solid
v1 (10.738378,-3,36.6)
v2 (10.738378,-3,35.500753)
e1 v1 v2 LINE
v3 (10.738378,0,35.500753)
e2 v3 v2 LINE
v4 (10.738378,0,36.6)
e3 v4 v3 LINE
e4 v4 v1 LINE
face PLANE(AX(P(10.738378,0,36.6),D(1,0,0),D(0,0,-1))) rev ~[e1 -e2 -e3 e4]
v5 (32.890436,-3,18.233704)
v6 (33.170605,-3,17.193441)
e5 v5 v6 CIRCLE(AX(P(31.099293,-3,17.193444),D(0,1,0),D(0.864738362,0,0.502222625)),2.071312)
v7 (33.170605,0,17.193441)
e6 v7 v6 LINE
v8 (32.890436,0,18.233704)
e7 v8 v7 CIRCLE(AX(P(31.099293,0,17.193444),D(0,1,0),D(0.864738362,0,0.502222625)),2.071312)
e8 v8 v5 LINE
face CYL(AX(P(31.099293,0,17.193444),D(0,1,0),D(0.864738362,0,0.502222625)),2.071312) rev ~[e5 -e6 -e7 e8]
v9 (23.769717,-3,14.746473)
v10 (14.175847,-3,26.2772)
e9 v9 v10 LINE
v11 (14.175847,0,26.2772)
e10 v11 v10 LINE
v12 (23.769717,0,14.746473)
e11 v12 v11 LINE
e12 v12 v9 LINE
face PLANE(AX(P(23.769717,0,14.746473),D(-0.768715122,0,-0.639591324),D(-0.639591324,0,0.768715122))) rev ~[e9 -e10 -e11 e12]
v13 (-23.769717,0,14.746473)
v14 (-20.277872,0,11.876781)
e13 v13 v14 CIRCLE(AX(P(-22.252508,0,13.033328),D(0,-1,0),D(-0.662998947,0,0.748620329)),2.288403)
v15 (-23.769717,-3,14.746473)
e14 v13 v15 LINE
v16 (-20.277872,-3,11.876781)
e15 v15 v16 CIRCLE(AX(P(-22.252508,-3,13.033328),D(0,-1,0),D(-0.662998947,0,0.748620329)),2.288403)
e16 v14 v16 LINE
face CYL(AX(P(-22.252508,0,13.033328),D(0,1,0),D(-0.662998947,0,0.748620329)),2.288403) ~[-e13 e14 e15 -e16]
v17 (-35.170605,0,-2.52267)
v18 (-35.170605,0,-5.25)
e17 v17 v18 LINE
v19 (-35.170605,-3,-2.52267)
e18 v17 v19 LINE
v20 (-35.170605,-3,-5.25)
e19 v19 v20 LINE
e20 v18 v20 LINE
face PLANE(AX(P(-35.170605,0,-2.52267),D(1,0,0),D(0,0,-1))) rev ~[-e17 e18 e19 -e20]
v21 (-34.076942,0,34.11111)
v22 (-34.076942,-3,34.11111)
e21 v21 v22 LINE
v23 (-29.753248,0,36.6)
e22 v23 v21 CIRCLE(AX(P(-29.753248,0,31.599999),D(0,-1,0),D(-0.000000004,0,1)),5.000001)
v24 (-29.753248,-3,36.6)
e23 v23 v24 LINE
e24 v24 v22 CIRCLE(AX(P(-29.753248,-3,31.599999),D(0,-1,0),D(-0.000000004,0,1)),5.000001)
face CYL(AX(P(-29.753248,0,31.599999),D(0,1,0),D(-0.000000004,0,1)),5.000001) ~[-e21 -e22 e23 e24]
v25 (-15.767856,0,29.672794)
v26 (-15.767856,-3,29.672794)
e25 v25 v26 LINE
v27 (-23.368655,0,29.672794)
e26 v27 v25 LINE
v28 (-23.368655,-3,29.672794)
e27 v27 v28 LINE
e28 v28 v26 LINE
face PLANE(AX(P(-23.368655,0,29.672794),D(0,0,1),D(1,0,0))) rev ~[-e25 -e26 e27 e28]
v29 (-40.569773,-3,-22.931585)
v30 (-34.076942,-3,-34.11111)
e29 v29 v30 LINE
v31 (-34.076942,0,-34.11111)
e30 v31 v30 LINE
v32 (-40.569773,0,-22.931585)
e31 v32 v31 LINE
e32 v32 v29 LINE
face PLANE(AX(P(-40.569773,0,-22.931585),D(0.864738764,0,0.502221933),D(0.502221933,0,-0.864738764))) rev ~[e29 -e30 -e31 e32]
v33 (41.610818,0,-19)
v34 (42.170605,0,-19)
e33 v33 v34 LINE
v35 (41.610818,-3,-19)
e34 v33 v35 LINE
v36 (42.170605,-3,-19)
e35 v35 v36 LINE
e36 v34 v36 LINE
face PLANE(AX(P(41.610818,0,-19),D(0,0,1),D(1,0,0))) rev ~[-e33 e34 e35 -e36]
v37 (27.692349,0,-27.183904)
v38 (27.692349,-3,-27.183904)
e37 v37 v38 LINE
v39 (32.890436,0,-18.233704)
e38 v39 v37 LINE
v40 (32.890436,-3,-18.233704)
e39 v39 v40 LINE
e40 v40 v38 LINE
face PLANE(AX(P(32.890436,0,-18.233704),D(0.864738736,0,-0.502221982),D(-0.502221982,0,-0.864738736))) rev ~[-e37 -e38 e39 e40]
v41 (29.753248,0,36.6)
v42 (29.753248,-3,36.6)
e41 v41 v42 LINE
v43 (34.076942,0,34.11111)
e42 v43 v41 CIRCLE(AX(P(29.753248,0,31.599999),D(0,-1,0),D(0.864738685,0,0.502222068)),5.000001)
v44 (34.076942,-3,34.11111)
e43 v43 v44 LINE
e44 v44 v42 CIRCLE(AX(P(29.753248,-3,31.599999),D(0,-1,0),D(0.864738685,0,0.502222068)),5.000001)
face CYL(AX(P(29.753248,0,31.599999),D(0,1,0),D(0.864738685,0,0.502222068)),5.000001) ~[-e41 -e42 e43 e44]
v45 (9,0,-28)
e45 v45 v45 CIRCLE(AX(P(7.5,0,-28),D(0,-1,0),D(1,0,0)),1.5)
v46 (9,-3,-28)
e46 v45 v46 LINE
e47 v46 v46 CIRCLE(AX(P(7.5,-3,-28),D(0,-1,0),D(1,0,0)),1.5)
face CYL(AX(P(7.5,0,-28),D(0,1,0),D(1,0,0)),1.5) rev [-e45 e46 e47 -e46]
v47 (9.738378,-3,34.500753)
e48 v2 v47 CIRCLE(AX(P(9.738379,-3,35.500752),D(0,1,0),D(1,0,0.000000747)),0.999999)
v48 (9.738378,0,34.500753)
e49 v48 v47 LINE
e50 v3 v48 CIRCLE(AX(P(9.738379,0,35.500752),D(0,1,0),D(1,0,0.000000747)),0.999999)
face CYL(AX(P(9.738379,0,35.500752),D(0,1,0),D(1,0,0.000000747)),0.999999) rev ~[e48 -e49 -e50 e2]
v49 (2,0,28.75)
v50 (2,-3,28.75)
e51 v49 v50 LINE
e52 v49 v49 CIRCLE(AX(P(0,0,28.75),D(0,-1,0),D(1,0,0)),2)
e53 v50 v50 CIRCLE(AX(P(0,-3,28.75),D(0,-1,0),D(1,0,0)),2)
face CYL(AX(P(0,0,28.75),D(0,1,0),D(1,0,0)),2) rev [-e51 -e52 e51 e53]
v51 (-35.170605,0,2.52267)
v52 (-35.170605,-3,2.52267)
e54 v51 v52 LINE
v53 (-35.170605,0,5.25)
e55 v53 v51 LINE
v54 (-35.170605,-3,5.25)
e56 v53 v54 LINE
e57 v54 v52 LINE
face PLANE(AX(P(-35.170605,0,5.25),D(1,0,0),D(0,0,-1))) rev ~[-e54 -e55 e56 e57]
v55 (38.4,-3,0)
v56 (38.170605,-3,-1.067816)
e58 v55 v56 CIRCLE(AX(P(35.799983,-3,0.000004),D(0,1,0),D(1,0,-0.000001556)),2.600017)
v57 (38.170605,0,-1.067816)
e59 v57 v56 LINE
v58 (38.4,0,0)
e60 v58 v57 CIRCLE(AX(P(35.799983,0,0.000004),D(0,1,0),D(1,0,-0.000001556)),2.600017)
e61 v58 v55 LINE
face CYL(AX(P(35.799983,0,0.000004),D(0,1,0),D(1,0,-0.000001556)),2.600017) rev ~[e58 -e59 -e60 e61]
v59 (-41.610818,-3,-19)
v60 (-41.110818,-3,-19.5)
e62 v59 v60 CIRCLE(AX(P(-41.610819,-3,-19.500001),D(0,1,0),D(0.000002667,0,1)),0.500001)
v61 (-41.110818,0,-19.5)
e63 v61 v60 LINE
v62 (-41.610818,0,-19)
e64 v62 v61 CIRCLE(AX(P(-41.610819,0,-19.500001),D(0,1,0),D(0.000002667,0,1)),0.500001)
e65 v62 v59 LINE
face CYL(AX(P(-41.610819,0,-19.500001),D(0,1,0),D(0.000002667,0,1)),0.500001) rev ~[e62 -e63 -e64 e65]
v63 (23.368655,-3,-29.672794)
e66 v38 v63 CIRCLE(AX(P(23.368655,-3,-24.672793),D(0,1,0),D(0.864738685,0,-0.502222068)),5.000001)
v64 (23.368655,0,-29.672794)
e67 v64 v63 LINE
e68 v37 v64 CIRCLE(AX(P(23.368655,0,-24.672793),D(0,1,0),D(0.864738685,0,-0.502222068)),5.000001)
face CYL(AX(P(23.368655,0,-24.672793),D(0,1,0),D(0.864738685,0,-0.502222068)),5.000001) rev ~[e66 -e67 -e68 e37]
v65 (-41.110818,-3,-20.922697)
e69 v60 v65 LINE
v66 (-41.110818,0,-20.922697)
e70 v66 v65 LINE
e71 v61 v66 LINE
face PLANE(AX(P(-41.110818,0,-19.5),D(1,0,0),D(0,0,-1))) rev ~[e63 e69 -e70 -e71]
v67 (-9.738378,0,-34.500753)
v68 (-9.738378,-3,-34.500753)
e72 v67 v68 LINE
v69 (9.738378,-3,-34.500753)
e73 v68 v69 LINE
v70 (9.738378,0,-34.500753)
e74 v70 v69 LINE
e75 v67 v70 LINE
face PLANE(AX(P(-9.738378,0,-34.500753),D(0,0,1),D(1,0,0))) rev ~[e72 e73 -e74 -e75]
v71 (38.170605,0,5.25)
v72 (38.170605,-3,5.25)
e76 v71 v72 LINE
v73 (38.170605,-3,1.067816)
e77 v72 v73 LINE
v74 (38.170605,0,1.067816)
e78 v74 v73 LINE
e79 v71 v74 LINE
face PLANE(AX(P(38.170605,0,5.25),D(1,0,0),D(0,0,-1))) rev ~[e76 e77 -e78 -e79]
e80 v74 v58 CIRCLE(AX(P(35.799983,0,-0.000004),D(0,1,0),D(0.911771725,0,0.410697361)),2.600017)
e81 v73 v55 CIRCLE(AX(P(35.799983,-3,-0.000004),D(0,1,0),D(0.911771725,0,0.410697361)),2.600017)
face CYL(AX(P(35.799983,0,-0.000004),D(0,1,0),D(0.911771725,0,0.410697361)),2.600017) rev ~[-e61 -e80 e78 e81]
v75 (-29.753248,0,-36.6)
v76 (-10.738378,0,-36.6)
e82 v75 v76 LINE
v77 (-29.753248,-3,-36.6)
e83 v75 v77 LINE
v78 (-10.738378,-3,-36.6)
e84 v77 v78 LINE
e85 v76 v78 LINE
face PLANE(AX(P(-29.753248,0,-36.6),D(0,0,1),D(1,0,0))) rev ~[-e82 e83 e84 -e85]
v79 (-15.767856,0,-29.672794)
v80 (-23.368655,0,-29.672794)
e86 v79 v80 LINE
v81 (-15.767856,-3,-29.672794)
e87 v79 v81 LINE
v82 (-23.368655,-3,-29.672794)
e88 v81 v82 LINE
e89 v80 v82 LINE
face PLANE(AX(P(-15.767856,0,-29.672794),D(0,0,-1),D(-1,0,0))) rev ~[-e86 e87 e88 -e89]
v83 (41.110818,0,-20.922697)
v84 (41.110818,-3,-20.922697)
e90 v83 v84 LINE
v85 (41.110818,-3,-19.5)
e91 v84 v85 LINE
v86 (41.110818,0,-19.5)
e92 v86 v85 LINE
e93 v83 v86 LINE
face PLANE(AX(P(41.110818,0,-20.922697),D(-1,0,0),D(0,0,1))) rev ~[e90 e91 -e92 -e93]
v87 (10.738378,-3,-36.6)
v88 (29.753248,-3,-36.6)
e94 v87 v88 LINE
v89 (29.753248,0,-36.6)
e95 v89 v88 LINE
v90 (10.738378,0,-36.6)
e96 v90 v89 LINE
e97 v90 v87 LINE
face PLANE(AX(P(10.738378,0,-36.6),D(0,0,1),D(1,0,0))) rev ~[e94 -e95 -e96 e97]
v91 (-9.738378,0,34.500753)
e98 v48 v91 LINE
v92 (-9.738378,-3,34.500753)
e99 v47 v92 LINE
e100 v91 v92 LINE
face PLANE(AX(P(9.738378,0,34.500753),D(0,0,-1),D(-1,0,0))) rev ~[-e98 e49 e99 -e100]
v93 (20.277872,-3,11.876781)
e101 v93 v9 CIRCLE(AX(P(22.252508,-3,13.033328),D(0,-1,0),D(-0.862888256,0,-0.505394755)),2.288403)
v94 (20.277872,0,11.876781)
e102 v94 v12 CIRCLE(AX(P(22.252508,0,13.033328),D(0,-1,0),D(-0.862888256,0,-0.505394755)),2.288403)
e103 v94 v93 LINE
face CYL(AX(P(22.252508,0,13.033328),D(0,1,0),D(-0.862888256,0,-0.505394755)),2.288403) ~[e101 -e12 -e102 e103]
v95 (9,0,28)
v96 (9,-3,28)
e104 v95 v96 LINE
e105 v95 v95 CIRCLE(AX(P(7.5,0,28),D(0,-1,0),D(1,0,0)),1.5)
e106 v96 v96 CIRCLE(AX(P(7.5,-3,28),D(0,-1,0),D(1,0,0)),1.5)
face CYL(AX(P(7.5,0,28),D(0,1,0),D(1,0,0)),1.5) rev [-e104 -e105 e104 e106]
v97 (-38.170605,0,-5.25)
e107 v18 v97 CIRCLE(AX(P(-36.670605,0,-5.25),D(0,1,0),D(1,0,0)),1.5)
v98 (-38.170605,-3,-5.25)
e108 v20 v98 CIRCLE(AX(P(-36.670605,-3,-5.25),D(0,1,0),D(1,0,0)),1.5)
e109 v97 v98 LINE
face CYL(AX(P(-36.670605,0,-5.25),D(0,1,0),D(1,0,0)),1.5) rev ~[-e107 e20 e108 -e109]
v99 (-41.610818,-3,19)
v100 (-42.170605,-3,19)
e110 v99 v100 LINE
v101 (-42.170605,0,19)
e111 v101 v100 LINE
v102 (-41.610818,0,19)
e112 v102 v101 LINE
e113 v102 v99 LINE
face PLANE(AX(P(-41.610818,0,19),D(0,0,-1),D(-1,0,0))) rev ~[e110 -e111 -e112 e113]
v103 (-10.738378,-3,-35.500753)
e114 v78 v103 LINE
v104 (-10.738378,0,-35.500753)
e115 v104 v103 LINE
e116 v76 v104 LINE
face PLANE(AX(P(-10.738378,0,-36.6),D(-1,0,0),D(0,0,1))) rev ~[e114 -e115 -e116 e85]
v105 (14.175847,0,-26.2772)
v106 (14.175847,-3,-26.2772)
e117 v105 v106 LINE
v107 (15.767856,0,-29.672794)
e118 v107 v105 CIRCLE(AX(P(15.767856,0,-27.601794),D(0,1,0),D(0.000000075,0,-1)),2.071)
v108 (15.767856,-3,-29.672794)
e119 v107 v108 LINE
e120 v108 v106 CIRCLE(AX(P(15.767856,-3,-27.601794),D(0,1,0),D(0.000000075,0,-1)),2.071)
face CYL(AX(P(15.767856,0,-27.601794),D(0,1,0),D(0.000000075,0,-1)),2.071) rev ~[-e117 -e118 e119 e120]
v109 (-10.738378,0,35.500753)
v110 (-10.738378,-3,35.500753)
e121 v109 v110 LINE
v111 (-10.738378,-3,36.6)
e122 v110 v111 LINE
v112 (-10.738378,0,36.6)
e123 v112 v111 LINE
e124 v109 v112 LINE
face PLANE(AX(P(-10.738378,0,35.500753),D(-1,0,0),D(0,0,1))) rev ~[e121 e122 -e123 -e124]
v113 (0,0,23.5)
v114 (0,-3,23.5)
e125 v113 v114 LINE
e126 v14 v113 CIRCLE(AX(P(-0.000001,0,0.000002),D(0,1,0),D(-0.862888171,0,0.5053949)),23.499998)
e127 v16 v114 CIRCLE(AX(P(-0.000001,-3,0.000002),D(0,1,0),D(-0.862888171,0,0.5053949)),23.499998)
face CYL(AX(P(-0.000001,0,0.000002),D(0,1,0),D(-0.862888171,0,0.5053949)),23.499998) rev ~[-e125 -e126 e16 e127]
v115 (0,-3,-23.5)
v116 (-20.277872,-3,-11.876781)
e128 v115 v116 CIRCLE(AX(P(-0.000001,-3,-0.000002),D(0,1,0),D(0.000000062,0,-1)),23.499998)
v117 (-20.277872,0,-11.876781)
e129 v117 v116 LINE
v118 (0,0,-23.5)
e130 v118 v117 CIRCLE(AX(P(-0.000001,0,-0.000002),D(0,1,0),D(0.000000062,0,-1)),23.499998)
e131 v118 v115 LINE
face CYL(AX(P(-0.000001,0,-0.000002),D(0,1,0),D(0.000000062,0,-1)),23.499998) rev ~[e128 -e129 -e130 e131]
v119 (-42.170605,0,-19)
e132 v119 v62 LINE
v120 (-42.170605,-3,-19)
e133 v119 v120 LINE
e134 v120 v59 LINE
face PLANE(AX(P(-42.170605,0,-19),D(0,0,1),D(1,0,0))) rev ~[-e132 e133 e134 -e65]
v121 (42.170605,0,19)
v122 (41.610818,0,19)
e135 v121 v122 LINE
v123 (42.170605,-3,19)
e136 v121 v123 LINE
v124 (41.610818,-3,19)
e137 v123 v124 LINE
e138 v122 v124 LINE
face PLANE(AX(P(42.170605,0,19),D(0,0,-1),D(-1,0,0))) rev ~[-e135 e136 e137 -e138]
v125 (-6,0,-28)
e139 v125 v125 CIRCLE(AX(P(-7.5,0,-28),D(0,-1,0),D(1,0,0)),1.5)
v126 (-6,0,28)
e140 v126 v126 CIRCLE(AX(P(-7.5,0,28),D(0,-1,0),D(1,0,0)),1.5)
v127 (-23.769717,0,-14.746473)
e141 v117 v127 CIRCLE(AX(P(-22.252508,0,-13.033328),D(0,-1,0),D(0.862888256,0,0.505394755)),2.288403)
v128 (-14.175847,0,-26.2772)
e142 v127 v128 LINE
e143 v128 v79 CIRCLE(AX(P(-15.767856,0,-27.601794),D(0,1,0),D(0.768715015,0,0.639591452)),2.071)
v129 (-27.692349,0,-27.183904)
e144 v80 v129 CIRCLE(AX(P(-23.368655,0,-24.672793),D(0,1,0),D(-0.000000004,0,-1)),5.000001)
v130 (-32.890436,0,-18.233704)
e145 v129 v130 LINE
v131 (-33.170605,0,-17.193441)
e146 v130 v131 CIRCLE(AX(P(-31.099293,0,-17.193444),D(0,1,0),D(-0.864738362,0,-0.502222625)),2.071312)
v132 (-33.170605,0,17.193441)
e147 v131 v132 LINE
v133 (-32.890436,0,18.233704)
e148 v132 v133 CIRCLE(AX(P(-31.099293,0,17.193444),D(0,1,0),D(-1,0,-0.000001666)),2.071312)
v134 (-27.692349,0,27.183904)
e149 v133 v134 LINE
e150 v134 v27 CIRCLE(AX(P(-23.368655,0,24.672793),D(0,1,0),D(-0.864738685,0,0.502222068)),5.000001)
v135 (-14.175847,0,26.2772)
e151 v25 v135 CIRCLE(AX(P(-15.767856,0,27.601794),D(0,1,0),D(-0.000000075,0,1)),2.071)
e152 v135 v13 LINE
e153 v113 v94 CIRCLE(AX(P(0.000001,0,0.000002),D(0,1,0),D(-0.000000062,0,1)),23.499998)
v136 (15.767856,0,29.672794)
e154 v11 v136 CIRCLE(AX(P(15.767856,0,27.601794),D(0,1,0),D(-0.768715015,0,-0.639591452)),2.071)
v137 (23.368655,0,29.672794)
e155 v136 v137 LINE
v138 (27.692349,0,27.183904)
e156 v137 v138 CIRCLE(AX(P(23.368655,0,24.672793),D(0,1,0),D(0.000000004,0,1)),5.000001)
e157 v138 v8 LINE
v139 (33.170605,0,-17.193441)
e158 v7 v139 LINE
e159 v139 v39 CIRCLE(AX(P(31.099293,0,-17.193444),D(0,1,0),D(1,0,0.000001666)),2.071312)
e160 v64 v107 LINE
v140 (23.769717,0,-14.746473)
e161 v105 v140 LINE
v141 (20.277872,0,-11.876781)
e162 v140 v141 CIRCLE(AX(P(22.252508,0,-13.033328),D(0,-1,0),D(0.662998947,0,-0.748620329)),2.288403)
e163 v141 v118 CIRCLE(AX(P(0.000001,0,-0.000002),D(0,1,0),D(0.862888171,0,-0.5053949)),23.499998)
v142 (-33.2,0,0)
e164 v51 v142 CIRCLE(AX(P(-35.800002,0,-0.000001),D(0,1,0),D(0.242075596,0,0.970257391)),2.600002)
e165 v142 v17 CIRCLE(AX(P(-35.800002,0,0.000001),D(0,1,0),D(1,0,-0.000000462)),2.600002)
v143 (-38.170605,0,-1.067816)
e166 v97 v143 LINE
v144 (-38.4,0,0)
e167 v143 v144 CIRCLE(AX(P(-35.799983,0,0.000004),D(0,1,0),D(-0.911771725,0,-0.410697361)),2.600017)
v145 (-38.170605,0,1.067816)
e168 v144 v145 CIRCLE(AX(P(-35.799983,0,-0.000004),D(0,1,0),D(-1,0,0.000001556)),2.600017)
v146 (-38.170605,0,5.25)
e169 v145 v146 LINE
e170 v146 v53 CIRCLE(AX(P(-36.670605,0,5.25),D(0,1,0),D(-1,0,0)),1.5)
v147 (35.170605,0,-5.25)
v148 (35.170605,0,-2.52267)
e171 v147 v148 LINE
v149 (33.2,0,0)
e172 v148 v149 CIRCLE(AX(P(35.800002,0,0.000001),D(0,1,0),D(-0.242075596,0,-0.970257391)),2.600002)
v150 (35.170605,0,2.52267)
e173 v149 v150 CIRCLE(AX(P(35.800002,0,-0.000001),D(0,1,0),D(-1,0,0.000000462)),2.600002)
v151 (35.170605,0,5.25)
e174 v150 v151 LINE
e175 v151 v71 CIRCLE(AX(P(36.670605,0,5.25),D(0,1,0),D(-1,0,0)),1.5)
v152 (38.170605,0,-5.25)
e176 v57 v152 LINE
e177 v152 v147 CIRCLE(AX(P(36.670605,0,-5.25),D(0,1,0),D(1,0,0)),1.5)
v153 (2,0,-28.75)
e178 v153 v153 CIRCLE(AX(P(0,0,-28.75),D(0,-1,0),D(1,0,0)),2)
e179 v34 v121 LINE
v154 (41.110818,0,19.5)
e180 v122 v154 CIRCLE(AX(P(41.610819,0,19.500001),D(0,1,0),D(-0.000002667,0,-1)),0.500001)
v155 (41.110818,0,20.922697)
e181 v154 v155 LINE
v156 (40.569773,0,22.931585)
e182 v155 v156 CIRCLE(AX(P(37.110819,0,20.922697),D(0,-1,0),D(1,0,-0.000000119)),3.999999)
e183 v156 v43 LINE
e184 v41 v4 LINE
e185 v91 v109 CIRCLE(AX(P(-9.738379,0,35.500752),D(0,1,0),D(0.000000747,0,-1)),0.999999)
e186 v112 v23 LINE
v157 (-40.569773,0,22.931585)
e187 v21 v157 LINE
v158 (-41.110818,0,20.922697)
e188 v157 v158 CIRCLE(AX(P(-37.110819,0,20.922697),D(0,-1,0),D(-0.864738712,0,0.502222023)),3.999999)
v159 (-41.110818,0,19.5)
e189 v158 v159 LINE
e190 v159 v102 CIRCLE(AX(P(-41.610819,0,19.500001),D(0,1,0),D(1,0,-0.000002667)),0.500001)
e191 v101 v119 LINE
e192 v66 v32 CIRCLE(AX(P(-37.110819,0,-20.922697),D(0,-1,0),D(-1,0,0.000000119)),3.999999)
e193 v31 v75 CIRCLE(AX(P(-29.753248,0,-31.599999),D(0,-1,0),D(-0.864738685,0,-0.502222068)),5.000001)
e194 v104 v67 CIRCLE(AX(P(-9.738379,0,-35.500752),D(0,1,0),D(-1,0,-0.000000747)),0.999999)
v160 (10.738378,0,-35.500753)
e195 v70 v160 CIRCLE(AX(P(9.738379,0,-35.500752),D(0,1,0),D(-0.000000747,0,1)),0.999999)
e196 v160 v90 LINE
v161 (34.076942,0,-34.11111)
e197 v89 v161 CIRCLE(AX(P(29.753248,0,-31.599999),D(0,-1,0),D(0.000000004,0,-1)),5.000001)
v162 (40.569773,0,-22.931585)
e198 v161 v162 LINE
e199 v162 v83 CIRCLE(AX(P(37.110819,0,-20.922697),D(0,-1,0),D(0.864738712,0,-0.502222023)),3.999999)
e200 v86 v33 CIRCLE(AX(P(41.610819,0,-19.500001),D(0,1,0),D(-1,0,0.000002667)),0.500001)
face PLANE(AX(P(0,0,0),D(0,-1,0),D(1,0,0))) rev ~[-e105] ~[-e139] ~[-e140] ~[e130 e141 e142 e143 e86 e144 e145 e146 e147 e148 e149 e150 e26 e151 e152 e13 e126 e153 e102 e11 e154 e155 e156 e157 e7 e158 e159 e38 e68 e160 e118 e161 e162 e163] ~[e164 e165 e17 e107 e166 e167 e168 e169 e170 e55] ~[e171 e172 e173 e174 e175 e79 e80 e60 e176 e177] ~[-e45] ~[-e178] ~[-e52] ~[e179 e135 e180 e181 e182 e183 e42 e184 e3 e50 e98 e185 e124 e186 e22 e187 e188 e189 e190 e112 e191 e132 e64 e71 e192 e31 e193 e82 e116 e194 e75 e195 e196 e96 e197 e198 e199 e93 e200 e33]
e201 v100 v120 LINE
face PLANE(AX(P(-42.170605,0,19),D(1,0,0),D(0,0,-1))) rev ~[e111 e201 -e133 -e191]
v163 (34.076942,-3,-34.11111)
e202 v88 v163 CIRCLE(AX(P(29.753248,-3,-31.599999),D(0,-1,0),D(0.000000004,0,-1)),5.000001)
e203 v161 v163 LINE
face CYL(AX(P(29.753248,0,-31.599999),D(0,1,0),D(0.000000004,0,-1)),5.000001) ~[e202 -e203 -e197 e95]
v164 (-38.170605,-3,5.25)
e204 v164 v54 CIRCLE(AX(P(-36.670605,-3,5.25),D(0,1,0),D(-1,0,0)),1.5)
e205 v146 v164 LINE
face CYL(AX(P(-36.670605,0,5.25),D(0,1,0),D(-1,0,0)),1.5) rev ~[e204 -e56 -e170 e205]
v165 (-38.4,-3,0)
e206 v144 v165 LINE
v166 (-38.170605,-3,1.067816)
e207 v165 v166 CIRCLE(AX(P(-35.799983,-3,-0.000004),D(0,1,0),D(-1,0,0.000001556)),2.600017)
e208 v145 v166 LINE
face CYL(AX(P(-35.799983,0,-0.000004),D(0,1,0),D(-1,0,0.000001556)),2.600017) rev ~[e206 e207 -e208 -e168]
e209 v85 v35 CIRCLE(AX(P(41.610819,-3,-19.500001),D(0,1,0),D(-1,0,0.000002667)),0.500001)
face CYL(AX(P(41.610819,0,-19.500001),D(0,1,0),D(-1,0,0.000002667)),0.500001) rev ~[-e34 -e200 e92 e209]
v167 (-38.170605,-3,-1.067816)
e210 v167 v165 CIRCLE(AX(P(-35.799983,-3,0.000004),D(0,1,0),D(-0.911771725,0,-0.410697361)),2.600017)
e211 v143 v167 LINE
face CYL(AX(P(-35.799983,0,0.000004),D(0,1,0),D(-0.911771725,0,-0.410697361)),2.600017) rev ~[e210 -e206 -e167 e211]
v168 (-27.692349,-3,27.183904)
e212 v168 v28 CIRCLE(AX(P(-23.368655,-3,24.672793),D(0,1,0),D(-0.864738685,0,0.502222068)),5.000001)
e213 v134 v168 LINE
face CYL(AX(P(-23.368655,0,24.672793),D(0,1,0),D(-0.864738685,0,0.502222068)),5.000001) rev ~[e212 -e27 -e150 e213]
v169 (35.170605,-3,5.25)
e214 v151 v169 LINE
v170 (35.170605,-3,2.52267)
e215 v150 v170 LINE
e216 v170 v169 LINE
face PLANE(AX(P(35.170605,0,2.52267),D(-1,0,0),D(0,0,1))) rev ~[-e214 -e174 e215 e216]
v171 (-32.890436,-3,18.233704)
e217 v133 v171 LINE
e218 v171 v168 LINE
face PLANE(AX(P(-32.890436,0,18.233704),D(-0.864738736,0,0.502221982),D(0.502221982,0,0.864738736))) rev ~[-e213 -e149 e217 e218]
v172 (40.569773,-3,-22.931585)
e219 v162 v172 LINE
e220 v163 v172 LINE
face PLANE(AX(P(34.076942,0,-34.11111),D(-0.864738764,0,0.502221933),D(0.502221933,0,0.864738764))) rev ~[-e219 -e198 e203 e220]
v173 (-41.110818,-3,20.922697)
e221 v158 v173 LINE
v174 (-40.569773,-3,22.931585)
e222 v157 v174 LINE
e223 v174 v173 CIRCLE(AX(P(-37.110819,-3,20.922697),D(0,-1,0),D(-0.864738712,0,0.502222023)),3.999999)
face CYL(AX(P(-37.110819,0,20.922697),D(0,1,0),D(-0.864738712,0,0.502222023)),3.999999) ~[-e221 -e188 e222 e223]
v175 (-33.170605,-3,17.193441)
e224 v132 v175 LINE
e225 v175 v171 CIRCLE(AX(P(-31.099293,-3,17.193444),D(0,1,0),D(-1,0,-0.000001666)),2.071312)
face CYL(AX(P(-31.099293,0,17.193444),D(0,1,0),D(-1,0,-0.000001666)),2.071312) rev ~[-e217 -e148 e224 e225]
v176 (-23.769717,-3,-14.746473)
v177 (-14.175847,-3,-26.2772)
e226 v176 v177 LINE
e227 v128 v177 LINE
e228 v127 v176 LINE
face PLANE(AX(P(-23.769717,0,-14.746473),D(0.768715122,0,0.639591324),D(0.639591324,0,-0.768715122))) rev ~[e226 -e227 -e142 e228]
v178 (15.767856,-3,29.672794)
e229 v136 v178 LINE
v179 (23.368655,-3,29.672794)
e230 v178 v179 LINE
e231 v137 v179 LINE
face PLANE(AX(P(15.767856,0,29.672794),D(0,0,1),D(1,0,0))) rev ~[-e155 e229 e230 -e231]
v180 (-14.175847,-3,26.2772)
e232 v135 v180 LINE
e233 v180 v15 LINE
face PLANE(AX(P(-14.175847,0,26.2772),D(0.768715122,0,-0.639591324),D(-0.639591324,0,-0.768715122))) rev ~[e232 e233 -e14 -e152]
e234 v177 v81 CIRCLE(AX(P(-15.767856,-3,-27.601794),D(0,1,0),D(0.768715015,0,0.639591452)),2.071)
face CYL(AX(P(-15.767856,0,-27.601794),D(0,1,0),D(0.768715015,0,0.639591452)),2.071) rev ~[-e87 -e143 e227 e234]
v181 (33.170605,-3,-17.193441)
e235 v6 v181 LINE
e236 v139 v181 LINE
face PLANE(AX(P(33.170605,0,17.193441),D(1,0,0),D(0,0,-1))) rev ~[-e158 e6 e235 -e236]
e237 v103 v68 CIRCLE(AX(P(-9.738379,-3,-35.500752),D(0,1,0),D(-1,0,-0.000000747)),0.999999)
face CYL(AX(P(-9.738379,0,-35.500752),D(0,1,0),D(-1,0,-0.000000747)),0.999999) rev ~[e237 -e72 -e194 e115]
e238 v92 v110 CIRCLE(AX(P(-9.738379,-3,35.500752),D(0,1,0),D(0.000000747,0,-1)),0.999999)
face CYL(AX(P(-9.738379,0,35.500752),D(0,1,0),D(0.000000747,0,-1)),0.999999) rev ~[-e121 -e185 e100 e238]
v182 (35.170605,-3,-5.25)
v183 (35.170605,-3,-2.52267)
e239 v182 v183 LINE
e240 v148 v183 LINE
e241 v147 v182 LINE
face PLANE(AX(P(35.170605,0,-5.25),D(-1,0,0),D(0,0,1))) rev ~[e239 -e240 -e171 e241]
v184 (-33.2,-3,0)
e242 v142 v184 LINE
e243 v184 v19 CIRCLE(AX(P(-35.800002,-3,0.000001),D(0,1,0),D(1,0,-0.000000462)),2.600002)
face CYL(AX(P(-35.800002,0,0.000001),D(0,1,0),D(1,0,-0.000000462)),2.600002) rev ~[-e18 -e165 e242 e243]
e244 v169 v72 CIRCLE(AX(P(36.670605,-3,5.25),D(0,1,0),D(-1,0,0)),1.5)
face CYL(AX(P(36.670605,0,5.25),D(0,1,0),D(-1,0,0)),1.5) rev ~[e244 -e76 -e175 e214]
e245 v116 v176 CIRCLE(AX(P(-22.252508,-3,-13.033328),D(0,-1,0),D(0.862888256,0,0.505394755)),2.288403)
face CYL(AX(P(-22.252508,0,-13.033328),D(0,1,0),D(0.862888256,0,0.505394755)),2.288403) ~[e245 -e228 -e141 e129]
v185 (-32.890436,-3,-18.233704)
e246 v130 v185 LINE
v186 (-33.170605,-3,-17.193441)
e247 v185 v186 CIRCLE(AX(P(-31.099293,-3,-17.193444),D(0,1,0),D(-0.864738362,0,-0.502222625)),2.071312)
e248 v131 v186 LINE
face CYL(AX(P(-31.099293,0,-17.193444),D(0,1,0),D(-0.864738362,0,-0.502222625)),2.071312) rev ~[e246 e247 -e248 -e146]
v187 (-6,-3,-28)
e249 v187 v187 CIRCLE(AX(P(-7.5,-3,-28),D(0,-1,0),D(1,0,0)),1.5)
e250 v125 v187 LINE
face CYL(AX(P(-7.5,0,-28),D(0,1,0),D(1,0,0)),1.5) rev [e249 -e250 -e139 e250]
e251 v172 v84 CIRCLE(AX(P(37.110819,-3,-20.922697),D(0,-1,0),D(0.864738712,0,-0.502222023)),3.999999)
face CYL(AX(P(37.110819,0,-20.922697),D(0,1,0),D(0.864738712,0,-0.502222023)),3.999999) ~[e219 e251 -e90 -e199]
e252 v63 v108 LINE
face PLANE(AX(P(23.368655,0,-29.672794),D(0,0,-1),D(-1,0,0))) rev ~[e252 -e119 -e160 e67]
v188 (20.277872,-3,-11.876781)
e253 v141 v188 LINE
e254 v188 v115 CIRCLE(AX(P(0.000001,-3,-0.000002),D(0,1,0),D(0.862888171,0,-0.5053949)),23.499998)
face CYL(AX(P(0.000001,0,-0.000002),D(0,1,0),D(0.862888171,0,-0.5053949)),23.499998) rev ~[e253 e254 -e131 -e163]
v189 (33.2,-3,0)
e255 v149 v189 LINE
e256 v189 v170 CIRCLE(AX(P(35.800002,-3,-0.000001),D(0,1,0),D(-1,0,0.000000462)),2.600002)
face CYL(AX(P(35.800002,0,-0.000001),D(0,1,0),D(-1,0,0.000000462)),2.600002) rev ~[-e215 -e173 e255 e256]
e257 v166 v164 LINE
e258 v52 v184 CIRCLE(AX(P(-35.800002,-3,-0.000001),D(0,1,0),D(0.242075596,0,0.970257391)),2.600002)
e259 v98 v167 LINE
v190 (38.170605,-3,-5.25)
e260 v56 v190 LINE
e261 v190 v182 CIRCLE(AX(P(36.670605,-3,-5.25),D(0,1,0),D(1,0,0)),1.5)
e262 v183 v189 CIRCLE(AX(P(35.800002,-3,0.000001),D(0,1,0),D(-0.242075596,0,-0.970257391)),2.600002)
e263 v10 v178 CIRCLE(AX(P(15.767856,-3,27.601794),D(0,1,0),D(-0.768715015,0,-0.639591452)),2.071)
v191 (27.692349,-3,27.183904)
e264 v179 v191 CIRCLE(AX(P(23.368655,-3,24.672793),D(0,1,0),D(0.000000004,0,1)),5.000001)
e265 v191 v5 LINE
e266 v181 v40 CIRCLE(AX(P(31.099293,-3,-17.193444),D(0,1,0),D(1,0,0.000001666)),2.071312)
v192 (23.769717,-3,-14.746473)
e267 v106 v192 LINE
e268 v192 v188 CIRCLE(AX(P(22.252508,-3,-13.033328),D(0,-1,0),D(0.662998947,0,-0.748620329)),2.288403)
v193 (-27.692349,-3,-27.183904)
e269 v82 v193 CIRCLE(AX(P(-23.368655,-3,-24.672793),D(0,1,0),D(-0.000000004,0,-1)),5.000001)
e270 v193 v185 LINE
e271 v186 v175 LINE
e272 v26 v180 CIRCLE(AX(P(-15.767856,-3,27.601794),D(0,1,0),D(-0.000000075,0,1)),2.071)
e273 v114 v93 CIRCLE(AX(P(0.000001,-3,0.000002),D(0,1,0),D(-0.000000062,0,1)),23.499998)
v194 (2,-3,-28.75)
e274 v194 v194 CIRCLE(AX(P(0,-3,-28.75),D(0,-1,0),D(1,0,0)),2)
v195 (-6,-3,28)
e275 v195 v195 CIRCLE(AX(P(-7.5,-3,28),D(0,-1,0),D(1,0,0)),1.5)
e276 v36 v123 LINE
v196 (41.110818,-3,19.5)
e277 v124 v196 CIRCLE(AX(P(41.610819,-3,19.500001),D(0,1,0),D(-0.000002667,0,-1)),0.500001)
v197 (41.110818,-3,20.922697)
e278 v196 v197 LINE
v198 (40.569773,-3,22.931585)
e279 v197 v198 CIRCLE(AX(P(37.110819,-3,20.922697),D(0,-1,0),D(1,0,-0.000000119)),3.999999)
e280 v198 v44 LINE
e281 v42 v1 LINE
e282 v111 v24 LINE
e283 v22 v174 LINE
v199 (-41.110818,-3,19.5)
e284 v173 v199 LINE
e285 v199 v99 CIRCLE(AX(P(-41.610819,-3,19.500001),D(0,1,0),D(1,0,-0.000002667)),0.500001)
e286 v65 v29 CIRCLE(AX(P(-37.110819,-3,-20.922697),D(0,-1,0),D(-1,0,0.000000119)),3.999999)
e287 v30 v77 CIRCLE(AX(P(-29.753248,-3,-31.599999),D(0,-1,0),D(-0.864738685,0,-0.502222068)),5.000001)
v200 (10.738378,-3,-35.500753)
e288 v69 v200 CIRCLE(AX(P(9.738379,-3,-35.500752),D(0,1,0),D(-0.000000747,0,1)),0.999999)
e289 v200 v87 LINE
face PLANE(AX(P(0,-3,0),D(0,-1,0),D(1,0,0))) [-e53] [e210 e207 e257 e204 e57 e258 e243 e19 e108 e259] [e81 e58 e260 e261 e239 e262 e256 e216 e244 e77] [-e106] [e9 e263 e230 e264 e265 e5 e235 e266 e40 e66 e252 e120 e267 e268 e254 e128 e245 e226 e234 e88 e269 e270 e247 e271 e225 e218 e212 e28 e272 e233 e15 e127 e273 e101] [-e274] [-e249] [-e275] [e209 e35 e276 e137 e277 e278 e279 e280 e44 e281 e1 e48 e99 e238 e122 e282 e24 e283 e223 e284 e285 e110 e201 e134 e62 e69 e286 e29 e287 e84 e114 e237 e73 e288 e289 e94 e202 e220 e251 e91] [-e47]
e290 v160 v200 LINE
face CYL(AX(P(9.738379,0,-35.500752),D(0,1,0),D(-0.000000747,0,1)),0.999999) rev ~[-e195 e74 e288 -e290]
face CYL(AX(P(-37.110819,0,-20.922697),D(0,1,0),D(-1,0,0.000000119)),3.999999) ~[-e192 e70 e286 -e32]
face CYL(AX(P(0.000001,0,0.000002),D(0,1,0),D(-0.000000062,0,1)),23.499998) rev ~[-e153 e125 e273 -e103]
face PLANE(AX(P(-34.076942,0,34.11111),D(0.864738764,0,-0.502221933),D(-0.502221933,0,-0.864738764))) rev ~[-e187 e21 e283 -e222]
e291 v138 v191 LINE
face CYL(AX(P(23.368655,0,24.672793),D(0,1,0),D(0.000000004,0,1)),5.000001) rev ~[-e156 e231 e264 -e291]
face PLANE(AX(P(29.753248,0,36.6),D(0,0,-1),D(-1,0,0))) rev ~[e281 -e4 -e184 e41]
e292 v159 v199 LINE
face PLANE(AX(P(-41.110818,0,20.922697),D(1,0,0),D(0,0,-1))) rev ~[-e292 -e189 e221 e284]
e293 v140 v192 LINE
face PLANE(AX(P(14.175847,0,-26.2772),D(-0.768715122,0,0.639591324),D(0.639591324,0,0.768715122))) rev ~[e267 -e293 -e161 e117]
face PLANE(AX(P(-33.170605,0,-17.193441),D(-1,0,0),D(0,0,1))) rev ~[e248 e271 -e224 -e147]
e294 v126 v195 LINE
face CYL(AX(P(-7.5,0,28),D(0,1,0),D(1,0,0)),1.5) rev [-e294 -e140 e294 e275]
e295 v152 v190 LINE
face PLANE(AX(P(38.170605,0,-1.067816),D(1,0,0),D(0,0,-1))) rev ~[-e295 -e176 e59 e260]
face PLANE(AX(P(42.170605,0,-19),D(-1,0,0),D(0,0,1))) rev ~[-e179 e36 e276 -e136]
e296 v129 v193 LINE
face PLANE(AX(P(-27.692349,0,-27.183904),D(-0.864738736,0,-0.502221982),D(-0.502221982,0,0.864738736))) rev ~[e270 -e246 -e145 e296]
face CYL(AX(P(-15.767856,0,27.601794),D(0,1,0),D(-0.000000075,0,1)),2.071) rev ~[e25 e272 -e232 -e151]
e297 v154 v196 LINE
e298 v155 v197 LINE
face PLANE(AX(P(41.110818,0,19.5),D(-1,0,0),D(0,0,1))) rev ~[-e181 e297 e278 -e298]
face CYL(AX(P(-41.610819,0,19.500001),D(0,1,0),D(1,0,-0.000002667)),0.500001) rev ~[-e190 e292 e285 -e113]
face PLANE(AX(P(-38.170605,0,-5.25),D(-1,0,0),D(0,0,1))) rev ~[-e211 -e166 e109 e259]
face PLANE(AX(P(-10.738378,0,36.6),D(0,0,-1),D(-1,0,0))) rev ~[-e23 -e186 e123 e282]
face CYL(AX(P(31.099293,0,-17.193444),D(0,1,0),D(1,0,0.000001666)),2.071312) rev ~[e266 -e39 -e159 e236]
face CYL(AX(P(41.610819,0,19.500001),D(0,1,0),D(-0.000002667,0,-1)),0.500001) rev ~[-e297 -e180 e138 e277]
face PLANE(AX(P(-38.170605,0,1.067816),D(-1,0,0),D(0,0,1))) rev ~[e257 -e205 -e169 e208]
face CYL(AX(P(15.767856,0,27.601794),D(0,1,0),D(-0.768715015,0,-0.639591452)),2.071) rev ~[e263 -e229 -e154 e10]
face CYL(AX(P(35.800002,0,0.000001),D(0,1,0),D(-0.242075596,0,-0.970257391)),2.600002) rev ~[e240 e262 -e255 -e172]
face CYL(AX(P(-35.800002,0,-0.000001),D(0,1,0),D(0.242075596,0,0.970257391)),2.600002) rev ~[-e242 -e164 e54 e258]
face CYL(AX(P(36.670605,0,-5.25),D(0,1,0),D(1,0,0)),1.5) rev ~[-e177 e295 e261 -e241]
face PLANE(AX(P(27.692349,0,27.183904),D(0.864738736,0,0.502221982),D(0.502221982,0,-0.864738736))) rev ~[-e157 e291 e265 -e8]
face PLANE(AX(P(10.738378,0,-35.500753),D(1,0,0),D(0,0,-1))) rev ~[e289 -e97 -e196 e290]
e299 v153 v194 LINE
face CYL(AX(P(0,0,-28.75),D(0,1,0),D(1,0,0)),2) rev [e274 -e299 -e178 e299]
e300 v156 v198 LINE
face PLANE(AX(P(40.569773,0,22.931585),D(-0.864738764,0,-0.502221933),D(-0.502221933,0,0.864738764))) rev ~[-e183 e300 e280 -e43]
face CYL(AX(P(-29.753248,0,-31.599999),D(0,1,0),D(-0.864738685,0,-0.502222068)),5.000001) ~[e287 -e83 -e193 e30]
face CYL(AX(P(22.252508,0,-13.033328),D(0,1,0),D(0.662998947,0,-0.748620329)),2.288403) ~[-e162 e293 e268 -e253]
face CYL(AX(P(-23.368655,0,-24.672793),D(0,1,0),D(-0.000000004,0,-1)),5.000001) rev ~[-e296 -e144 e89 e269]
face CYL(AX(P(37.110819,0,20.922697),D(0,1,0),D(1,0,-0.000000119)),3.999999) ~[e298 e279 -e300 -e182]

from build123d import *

# Parameters (mm, degrees)
F0_R     = 1.5
F0_R_2   = 2
F1_DEPTH = 3


with BuildPart() as f1:
    # F0 (on Front) → F1 (new body)
    with BuildSketch(Plane.XZ):
        with BuildLine():
            Line((41.110818, 19.5), (41.110818, 20.922697))
            ThreePointArc((41.110818, 20.922697), (40.973189, 21.962933), (40.569773, 22.931585))
            Line((40.569773, 22.931585), (34.076942, 34.11111))
            ThreePointArc((34.076942, 34.11111), (32.247687, 35.933333), (29.753248, 36.6))
            Line((29.753248, 36.6), (10.738378, 36.6))
            Line((10.738378, 36.6), (10.738378, 35.500753))
            ThreePointArc((10.738378, 35.500753), (10.445485, 34.793646), (9.738378, 34.500753))
            Line((9.738378, 34.500753), (0, 34.500753))
            Line((0, 34.500753), (-9.738378, 34.500753))
            ThreePointArc((-9.738378, 34.500753), (-10.445485, 34.793646), (-10.738378, 35.500753))
            Line((-10.738378, 35.500753), (-10.738378, 36.6))
            Line((-10.738378, 36.6), (-29.753248, 36.6))
            ThreePointArc((-29.753248, 36.6), (-32.247687, 35.933333), (-34.076942, 34.11111))
            Line((-34.076942, 34.11111), (-40.569773, 22.931585))
            ThreePointArc((-40.569773, 22.931585), (-40.973189, 21.962933), (-41.110818, 20.922697))
            Line((-41.110818, 20.922697), (-41.110818, 19.5))
            ThreePointArc((-41.110818, 19.5), (-41.257265, 19.146447), (-41.610818, 19))
            Line((-41.610818, 19), (-42.170605, 19))
            Line((-42.170605, 19), (-42.170605, 0))
            Line((-42.170605, 0), (-42.170605, -19))
            Line((-42.170605, -19), (-41.610818, -19))
            ThreePointArc((-41.610818, -19), (-41.257265, -19.146447), (-41.110818, -19.5))
            Line((-41.110818, -19.5), (-41.110818, -20.922697))
            ThreePointArc((-41.110818, -20.922697), (-40.973189, -21.962933), (-40.569773, -22.931585))
            Line((-40.569773, -22.931585), (-34.076942, -34.11111))
            ThreePointArc((-34.076942, -34.11111), (-32.247687, -35.933333), (-29.753248, -36.6))
            Line((-29.753248, -36.6), (-10.738378, -36.6))
            Line((-10.738378, -36.6), (-10.738378, -35.500753))
            ThreePointArc((-10.738378, -35.500753), (-10.445485, -34.793646), (-9.738378, -34.500753))
            Line((-9.738378, -34.500753), (0, -34.500753))
            Line((0, -34.500753), (9.738378, -34.500753))
            ThreePointArc((9.738378, -34.500753), (10.445485, -34.793646), (10.738378, -35.500753))
            Line((10.738378, -35.500753), (10.738378, -36.6))
            Line((10.738378, -36.6), (29.753248, -36.6))
            ThreePointArc((29.753248, -36.6), (32.247687, -35.933333), (34.076942, -34.11111))
            Line((34.076942, -34.11111), (40.569773, -22.931585))
            ThreePointArc((40.569773, -22.931585), (40.973189, -21.962933), (41.110818, -20.922697))
            Line((41.110818, -20.922697), (41.110818, -19.5))
            ThreePointArc((41.110818, -19.5), (41.257265, -19.146447), (41.610818, -19))
            Line((41.610818, -19), (42.170605, -19))
            Line((42.170605, -19), (42.170605, 0))
            Line((42.170605, 0), (42.170605, 19))
            Line((42.170605, 19), (41.610818, 19))
            ThreePointArc((41.610818, 19), (41.257265, 19.146447), (41.110818, 19.5))
        make_face()
        with Locations((-7.5, -28)):
            Circle(F0_R, mode=Mode.SUBTRACT)
        with Locations((0, -28.75)):
            Circle(F0_R_2, mode=Mode.SUBTRACT)
        with Locations((7.5, -28)):
            Circle(F0_R, mode=Mode.SUBTRACT)
        with BuildLine():
            ThreePointArc((-35.170605, 2.52267), (-33.751046, 1.600558), (-33.2, 0))
            ThreePointArc((-33.2, 0), (-33.751046, -1.600558), (-35.170605, -2.52267))
            Line((-35.170605, -2.52267), (-35.170605, -5.25))
            ThreePointArc((-35.170605, -5.25), (-36.670605, -6.75), (-38.170605, -5.25))
            Line((-38.170605, -5.25), (-38.170605, -1.067816))
            ThreePointArc((-38.170605, -1.067816), (-38.342004, -0.546089), (-38.4, 0))
            ThreePointArc((-38.4, 0), (-38.342004, 0.546089), (-38.170605, 1.067816))
            Line((-38.170605, 1.067816), (-38.170605, 5.25))
            ThreePointArc((-38.170605, 5.25), (-36.670605, 6.75), (-35.170605, 5.25))
            Line((-35.170605, 5.25), (-35.170605, 2.52267))
        make_face(mode=Mode.SUBTRACT)
        with Locations((-7.5, 28)):
            Circle(F0_R, mode=Mode.SUBTRACT)
        with BuildLine():
            ThreePointArc((23.368655, 29.672794), (25.863094, 29.006127), (27.692349, 27.183904))
            Line((27.692349, 27.183904), (32.890436, 18.233704))
            ThreePointArc((32.890436, 18.233704), (33.099337, 17.732107), (33.170605, 17.193441))
            Line((33.170605, 17.193441), (33.170605, 0))
            Line((33.170605, 0), (33.170605, -17.193441))
            ThreePointArc((33.170605, -17.193441), (33.099337, -17.732107), (32.890436, -18.233704))
            Line((32.890436, -18.233704), (27.692349, -27.183904))
            ThreePointArc((27.692349, -27.183904), (25.863094, -29.006127), (23.368655, -29.672794))
            Line((23.368655, -29.672794), (15.767856, -29.672794))
            ThreePointArc((15.767856, -29.672794), (13.892719, -28.480943), (14.175847, -26.2772))
            Line((14.175847, -26.2772), (23.769717, -14.746473))
            ThreePointArc((23.769717, -14.746473), (23.705468, -11.265364), (20.277872, -11.876781))
            ThreePointArc((20.277872, -11.876781), (11.686438, -20.388163), (0, -23.5))
            ThreePointArc((0, -23.5), (-11.686438, -20.388163), (-20.277872, -11.876781))
            ThreePointArc((-20.277872, -11.876781), (-23.705468, -11.265364), (-23.769717, -14.746473))
            Line((-23.769717, -14.746473), (-14.175847, -26.2772))
            ThreePointArc((-14.175847, -26.2772), (-13.892719, -28.480943), (-15.767856, -29.672794))
            Line((-15.767856, -29.672794), (-23.368655, -29.672794))
            ThreePointArc((-23.368655, -29.672794), (-25.863094, -29.006127), (-27.692349, -27.183904))
            Line((-27.692349, -27.183904), (-32.890436, -18.233704))
            ThreePointArc((-32.890436, -18.233704), (-33.099337, -17.732107), (-33.170605, -17.193441))
            Line((-33.170605, -17.193441), (-33.170605, 0))
            Line((-33.170605, 0), (-33.170605, 17.193441))
            ThreePointArc((-33.170605, 17.193441), (-33.099337, 17.732107), (-32.890436, 18.233704))
            Line((-32.890436, 18.233704), (-27.692349, 27.183904))
            ThreePointArc((-27.692349, 27.183904), (-25.863094, 29.006127), (-23.368655, 29.672794))
            Line((-23.368655, 29.672794), (-15.767856, 29.672794))
            ThreePointArc((-15.767856, 29.672794), (-13.892719, 28.480943), (-14.175847, 26.2772))
            Line((-14.175847, 26.2772), (-23.769717, 14.746473))
            ThreePointArc((-23.769717, 14.746473), (-23.705468, 11.265364), (-20.277872, 11.876781))
            ThreePointArc((-20.277872, 11.876781), (-11.686438, 20.388163), (0, 23.5))
            ThreePointArc((0, 23.5), (11.686438, 20.388163), (20.277872, 11.876781))
            ThreePointArc((20.277872, 11.876781), (23.705468, 11.265364), (23.769717, 14.746473))
            Line((23.769717, 14.746473), (14.175847, 26.2772))
            ThreePointArc((14.175847, 26.2772), (13.892719, 28.480943), (15.767856, 29.672794))
            Line((15.767856, 29.672794), (23.368655, 29.672794))
        make_face(mode=Mode.SUBTRACT)
        with BuildLine():
            ThreePointArc((35.170605, -2.52267), (33.751046, -1.600558), (33.2, 0))
            ThreePointArc((33.2, 0), (33.751046, 1.600558), (35.170605, 2.52267))
            Line((35.170605, 2.52267), (35.170605, 5.25))
            ThreePointArc((35.170605, 5.25), (36.670605, 6.75), (38.170605, 5.25))
            Line((38.170605, 5.25), (38.170605, 1.067816))
            ThreePointArc((38.170605, 1.067816), (38.342004, 0.546089), (38.4, 0))
            ThreePointArc((38.4, 0), (38.342004, -0.546089), (38.170605, -1.067816))
            Line((38.170605, -1.067816), (38.170605, -5.25))
            ThreePointArc((38.170605, -5.25), (36.670605, -6.75), (35.170605, -5.25))
            Line((35.170605, -5.25), (35.170605, -2.52267))
        make_face(mode=Mode.SUBTRACT)
        with Locations((0, 28.75)):
            Circle(F0_R_2, mode=Mode.SUBTRACT)
        with Locations((7.5, 28)):
            Circle(F0_R, mode=Mode.SUBTRACT)
    extrude(amount=F1_DEPTH)


solid = f1.part
